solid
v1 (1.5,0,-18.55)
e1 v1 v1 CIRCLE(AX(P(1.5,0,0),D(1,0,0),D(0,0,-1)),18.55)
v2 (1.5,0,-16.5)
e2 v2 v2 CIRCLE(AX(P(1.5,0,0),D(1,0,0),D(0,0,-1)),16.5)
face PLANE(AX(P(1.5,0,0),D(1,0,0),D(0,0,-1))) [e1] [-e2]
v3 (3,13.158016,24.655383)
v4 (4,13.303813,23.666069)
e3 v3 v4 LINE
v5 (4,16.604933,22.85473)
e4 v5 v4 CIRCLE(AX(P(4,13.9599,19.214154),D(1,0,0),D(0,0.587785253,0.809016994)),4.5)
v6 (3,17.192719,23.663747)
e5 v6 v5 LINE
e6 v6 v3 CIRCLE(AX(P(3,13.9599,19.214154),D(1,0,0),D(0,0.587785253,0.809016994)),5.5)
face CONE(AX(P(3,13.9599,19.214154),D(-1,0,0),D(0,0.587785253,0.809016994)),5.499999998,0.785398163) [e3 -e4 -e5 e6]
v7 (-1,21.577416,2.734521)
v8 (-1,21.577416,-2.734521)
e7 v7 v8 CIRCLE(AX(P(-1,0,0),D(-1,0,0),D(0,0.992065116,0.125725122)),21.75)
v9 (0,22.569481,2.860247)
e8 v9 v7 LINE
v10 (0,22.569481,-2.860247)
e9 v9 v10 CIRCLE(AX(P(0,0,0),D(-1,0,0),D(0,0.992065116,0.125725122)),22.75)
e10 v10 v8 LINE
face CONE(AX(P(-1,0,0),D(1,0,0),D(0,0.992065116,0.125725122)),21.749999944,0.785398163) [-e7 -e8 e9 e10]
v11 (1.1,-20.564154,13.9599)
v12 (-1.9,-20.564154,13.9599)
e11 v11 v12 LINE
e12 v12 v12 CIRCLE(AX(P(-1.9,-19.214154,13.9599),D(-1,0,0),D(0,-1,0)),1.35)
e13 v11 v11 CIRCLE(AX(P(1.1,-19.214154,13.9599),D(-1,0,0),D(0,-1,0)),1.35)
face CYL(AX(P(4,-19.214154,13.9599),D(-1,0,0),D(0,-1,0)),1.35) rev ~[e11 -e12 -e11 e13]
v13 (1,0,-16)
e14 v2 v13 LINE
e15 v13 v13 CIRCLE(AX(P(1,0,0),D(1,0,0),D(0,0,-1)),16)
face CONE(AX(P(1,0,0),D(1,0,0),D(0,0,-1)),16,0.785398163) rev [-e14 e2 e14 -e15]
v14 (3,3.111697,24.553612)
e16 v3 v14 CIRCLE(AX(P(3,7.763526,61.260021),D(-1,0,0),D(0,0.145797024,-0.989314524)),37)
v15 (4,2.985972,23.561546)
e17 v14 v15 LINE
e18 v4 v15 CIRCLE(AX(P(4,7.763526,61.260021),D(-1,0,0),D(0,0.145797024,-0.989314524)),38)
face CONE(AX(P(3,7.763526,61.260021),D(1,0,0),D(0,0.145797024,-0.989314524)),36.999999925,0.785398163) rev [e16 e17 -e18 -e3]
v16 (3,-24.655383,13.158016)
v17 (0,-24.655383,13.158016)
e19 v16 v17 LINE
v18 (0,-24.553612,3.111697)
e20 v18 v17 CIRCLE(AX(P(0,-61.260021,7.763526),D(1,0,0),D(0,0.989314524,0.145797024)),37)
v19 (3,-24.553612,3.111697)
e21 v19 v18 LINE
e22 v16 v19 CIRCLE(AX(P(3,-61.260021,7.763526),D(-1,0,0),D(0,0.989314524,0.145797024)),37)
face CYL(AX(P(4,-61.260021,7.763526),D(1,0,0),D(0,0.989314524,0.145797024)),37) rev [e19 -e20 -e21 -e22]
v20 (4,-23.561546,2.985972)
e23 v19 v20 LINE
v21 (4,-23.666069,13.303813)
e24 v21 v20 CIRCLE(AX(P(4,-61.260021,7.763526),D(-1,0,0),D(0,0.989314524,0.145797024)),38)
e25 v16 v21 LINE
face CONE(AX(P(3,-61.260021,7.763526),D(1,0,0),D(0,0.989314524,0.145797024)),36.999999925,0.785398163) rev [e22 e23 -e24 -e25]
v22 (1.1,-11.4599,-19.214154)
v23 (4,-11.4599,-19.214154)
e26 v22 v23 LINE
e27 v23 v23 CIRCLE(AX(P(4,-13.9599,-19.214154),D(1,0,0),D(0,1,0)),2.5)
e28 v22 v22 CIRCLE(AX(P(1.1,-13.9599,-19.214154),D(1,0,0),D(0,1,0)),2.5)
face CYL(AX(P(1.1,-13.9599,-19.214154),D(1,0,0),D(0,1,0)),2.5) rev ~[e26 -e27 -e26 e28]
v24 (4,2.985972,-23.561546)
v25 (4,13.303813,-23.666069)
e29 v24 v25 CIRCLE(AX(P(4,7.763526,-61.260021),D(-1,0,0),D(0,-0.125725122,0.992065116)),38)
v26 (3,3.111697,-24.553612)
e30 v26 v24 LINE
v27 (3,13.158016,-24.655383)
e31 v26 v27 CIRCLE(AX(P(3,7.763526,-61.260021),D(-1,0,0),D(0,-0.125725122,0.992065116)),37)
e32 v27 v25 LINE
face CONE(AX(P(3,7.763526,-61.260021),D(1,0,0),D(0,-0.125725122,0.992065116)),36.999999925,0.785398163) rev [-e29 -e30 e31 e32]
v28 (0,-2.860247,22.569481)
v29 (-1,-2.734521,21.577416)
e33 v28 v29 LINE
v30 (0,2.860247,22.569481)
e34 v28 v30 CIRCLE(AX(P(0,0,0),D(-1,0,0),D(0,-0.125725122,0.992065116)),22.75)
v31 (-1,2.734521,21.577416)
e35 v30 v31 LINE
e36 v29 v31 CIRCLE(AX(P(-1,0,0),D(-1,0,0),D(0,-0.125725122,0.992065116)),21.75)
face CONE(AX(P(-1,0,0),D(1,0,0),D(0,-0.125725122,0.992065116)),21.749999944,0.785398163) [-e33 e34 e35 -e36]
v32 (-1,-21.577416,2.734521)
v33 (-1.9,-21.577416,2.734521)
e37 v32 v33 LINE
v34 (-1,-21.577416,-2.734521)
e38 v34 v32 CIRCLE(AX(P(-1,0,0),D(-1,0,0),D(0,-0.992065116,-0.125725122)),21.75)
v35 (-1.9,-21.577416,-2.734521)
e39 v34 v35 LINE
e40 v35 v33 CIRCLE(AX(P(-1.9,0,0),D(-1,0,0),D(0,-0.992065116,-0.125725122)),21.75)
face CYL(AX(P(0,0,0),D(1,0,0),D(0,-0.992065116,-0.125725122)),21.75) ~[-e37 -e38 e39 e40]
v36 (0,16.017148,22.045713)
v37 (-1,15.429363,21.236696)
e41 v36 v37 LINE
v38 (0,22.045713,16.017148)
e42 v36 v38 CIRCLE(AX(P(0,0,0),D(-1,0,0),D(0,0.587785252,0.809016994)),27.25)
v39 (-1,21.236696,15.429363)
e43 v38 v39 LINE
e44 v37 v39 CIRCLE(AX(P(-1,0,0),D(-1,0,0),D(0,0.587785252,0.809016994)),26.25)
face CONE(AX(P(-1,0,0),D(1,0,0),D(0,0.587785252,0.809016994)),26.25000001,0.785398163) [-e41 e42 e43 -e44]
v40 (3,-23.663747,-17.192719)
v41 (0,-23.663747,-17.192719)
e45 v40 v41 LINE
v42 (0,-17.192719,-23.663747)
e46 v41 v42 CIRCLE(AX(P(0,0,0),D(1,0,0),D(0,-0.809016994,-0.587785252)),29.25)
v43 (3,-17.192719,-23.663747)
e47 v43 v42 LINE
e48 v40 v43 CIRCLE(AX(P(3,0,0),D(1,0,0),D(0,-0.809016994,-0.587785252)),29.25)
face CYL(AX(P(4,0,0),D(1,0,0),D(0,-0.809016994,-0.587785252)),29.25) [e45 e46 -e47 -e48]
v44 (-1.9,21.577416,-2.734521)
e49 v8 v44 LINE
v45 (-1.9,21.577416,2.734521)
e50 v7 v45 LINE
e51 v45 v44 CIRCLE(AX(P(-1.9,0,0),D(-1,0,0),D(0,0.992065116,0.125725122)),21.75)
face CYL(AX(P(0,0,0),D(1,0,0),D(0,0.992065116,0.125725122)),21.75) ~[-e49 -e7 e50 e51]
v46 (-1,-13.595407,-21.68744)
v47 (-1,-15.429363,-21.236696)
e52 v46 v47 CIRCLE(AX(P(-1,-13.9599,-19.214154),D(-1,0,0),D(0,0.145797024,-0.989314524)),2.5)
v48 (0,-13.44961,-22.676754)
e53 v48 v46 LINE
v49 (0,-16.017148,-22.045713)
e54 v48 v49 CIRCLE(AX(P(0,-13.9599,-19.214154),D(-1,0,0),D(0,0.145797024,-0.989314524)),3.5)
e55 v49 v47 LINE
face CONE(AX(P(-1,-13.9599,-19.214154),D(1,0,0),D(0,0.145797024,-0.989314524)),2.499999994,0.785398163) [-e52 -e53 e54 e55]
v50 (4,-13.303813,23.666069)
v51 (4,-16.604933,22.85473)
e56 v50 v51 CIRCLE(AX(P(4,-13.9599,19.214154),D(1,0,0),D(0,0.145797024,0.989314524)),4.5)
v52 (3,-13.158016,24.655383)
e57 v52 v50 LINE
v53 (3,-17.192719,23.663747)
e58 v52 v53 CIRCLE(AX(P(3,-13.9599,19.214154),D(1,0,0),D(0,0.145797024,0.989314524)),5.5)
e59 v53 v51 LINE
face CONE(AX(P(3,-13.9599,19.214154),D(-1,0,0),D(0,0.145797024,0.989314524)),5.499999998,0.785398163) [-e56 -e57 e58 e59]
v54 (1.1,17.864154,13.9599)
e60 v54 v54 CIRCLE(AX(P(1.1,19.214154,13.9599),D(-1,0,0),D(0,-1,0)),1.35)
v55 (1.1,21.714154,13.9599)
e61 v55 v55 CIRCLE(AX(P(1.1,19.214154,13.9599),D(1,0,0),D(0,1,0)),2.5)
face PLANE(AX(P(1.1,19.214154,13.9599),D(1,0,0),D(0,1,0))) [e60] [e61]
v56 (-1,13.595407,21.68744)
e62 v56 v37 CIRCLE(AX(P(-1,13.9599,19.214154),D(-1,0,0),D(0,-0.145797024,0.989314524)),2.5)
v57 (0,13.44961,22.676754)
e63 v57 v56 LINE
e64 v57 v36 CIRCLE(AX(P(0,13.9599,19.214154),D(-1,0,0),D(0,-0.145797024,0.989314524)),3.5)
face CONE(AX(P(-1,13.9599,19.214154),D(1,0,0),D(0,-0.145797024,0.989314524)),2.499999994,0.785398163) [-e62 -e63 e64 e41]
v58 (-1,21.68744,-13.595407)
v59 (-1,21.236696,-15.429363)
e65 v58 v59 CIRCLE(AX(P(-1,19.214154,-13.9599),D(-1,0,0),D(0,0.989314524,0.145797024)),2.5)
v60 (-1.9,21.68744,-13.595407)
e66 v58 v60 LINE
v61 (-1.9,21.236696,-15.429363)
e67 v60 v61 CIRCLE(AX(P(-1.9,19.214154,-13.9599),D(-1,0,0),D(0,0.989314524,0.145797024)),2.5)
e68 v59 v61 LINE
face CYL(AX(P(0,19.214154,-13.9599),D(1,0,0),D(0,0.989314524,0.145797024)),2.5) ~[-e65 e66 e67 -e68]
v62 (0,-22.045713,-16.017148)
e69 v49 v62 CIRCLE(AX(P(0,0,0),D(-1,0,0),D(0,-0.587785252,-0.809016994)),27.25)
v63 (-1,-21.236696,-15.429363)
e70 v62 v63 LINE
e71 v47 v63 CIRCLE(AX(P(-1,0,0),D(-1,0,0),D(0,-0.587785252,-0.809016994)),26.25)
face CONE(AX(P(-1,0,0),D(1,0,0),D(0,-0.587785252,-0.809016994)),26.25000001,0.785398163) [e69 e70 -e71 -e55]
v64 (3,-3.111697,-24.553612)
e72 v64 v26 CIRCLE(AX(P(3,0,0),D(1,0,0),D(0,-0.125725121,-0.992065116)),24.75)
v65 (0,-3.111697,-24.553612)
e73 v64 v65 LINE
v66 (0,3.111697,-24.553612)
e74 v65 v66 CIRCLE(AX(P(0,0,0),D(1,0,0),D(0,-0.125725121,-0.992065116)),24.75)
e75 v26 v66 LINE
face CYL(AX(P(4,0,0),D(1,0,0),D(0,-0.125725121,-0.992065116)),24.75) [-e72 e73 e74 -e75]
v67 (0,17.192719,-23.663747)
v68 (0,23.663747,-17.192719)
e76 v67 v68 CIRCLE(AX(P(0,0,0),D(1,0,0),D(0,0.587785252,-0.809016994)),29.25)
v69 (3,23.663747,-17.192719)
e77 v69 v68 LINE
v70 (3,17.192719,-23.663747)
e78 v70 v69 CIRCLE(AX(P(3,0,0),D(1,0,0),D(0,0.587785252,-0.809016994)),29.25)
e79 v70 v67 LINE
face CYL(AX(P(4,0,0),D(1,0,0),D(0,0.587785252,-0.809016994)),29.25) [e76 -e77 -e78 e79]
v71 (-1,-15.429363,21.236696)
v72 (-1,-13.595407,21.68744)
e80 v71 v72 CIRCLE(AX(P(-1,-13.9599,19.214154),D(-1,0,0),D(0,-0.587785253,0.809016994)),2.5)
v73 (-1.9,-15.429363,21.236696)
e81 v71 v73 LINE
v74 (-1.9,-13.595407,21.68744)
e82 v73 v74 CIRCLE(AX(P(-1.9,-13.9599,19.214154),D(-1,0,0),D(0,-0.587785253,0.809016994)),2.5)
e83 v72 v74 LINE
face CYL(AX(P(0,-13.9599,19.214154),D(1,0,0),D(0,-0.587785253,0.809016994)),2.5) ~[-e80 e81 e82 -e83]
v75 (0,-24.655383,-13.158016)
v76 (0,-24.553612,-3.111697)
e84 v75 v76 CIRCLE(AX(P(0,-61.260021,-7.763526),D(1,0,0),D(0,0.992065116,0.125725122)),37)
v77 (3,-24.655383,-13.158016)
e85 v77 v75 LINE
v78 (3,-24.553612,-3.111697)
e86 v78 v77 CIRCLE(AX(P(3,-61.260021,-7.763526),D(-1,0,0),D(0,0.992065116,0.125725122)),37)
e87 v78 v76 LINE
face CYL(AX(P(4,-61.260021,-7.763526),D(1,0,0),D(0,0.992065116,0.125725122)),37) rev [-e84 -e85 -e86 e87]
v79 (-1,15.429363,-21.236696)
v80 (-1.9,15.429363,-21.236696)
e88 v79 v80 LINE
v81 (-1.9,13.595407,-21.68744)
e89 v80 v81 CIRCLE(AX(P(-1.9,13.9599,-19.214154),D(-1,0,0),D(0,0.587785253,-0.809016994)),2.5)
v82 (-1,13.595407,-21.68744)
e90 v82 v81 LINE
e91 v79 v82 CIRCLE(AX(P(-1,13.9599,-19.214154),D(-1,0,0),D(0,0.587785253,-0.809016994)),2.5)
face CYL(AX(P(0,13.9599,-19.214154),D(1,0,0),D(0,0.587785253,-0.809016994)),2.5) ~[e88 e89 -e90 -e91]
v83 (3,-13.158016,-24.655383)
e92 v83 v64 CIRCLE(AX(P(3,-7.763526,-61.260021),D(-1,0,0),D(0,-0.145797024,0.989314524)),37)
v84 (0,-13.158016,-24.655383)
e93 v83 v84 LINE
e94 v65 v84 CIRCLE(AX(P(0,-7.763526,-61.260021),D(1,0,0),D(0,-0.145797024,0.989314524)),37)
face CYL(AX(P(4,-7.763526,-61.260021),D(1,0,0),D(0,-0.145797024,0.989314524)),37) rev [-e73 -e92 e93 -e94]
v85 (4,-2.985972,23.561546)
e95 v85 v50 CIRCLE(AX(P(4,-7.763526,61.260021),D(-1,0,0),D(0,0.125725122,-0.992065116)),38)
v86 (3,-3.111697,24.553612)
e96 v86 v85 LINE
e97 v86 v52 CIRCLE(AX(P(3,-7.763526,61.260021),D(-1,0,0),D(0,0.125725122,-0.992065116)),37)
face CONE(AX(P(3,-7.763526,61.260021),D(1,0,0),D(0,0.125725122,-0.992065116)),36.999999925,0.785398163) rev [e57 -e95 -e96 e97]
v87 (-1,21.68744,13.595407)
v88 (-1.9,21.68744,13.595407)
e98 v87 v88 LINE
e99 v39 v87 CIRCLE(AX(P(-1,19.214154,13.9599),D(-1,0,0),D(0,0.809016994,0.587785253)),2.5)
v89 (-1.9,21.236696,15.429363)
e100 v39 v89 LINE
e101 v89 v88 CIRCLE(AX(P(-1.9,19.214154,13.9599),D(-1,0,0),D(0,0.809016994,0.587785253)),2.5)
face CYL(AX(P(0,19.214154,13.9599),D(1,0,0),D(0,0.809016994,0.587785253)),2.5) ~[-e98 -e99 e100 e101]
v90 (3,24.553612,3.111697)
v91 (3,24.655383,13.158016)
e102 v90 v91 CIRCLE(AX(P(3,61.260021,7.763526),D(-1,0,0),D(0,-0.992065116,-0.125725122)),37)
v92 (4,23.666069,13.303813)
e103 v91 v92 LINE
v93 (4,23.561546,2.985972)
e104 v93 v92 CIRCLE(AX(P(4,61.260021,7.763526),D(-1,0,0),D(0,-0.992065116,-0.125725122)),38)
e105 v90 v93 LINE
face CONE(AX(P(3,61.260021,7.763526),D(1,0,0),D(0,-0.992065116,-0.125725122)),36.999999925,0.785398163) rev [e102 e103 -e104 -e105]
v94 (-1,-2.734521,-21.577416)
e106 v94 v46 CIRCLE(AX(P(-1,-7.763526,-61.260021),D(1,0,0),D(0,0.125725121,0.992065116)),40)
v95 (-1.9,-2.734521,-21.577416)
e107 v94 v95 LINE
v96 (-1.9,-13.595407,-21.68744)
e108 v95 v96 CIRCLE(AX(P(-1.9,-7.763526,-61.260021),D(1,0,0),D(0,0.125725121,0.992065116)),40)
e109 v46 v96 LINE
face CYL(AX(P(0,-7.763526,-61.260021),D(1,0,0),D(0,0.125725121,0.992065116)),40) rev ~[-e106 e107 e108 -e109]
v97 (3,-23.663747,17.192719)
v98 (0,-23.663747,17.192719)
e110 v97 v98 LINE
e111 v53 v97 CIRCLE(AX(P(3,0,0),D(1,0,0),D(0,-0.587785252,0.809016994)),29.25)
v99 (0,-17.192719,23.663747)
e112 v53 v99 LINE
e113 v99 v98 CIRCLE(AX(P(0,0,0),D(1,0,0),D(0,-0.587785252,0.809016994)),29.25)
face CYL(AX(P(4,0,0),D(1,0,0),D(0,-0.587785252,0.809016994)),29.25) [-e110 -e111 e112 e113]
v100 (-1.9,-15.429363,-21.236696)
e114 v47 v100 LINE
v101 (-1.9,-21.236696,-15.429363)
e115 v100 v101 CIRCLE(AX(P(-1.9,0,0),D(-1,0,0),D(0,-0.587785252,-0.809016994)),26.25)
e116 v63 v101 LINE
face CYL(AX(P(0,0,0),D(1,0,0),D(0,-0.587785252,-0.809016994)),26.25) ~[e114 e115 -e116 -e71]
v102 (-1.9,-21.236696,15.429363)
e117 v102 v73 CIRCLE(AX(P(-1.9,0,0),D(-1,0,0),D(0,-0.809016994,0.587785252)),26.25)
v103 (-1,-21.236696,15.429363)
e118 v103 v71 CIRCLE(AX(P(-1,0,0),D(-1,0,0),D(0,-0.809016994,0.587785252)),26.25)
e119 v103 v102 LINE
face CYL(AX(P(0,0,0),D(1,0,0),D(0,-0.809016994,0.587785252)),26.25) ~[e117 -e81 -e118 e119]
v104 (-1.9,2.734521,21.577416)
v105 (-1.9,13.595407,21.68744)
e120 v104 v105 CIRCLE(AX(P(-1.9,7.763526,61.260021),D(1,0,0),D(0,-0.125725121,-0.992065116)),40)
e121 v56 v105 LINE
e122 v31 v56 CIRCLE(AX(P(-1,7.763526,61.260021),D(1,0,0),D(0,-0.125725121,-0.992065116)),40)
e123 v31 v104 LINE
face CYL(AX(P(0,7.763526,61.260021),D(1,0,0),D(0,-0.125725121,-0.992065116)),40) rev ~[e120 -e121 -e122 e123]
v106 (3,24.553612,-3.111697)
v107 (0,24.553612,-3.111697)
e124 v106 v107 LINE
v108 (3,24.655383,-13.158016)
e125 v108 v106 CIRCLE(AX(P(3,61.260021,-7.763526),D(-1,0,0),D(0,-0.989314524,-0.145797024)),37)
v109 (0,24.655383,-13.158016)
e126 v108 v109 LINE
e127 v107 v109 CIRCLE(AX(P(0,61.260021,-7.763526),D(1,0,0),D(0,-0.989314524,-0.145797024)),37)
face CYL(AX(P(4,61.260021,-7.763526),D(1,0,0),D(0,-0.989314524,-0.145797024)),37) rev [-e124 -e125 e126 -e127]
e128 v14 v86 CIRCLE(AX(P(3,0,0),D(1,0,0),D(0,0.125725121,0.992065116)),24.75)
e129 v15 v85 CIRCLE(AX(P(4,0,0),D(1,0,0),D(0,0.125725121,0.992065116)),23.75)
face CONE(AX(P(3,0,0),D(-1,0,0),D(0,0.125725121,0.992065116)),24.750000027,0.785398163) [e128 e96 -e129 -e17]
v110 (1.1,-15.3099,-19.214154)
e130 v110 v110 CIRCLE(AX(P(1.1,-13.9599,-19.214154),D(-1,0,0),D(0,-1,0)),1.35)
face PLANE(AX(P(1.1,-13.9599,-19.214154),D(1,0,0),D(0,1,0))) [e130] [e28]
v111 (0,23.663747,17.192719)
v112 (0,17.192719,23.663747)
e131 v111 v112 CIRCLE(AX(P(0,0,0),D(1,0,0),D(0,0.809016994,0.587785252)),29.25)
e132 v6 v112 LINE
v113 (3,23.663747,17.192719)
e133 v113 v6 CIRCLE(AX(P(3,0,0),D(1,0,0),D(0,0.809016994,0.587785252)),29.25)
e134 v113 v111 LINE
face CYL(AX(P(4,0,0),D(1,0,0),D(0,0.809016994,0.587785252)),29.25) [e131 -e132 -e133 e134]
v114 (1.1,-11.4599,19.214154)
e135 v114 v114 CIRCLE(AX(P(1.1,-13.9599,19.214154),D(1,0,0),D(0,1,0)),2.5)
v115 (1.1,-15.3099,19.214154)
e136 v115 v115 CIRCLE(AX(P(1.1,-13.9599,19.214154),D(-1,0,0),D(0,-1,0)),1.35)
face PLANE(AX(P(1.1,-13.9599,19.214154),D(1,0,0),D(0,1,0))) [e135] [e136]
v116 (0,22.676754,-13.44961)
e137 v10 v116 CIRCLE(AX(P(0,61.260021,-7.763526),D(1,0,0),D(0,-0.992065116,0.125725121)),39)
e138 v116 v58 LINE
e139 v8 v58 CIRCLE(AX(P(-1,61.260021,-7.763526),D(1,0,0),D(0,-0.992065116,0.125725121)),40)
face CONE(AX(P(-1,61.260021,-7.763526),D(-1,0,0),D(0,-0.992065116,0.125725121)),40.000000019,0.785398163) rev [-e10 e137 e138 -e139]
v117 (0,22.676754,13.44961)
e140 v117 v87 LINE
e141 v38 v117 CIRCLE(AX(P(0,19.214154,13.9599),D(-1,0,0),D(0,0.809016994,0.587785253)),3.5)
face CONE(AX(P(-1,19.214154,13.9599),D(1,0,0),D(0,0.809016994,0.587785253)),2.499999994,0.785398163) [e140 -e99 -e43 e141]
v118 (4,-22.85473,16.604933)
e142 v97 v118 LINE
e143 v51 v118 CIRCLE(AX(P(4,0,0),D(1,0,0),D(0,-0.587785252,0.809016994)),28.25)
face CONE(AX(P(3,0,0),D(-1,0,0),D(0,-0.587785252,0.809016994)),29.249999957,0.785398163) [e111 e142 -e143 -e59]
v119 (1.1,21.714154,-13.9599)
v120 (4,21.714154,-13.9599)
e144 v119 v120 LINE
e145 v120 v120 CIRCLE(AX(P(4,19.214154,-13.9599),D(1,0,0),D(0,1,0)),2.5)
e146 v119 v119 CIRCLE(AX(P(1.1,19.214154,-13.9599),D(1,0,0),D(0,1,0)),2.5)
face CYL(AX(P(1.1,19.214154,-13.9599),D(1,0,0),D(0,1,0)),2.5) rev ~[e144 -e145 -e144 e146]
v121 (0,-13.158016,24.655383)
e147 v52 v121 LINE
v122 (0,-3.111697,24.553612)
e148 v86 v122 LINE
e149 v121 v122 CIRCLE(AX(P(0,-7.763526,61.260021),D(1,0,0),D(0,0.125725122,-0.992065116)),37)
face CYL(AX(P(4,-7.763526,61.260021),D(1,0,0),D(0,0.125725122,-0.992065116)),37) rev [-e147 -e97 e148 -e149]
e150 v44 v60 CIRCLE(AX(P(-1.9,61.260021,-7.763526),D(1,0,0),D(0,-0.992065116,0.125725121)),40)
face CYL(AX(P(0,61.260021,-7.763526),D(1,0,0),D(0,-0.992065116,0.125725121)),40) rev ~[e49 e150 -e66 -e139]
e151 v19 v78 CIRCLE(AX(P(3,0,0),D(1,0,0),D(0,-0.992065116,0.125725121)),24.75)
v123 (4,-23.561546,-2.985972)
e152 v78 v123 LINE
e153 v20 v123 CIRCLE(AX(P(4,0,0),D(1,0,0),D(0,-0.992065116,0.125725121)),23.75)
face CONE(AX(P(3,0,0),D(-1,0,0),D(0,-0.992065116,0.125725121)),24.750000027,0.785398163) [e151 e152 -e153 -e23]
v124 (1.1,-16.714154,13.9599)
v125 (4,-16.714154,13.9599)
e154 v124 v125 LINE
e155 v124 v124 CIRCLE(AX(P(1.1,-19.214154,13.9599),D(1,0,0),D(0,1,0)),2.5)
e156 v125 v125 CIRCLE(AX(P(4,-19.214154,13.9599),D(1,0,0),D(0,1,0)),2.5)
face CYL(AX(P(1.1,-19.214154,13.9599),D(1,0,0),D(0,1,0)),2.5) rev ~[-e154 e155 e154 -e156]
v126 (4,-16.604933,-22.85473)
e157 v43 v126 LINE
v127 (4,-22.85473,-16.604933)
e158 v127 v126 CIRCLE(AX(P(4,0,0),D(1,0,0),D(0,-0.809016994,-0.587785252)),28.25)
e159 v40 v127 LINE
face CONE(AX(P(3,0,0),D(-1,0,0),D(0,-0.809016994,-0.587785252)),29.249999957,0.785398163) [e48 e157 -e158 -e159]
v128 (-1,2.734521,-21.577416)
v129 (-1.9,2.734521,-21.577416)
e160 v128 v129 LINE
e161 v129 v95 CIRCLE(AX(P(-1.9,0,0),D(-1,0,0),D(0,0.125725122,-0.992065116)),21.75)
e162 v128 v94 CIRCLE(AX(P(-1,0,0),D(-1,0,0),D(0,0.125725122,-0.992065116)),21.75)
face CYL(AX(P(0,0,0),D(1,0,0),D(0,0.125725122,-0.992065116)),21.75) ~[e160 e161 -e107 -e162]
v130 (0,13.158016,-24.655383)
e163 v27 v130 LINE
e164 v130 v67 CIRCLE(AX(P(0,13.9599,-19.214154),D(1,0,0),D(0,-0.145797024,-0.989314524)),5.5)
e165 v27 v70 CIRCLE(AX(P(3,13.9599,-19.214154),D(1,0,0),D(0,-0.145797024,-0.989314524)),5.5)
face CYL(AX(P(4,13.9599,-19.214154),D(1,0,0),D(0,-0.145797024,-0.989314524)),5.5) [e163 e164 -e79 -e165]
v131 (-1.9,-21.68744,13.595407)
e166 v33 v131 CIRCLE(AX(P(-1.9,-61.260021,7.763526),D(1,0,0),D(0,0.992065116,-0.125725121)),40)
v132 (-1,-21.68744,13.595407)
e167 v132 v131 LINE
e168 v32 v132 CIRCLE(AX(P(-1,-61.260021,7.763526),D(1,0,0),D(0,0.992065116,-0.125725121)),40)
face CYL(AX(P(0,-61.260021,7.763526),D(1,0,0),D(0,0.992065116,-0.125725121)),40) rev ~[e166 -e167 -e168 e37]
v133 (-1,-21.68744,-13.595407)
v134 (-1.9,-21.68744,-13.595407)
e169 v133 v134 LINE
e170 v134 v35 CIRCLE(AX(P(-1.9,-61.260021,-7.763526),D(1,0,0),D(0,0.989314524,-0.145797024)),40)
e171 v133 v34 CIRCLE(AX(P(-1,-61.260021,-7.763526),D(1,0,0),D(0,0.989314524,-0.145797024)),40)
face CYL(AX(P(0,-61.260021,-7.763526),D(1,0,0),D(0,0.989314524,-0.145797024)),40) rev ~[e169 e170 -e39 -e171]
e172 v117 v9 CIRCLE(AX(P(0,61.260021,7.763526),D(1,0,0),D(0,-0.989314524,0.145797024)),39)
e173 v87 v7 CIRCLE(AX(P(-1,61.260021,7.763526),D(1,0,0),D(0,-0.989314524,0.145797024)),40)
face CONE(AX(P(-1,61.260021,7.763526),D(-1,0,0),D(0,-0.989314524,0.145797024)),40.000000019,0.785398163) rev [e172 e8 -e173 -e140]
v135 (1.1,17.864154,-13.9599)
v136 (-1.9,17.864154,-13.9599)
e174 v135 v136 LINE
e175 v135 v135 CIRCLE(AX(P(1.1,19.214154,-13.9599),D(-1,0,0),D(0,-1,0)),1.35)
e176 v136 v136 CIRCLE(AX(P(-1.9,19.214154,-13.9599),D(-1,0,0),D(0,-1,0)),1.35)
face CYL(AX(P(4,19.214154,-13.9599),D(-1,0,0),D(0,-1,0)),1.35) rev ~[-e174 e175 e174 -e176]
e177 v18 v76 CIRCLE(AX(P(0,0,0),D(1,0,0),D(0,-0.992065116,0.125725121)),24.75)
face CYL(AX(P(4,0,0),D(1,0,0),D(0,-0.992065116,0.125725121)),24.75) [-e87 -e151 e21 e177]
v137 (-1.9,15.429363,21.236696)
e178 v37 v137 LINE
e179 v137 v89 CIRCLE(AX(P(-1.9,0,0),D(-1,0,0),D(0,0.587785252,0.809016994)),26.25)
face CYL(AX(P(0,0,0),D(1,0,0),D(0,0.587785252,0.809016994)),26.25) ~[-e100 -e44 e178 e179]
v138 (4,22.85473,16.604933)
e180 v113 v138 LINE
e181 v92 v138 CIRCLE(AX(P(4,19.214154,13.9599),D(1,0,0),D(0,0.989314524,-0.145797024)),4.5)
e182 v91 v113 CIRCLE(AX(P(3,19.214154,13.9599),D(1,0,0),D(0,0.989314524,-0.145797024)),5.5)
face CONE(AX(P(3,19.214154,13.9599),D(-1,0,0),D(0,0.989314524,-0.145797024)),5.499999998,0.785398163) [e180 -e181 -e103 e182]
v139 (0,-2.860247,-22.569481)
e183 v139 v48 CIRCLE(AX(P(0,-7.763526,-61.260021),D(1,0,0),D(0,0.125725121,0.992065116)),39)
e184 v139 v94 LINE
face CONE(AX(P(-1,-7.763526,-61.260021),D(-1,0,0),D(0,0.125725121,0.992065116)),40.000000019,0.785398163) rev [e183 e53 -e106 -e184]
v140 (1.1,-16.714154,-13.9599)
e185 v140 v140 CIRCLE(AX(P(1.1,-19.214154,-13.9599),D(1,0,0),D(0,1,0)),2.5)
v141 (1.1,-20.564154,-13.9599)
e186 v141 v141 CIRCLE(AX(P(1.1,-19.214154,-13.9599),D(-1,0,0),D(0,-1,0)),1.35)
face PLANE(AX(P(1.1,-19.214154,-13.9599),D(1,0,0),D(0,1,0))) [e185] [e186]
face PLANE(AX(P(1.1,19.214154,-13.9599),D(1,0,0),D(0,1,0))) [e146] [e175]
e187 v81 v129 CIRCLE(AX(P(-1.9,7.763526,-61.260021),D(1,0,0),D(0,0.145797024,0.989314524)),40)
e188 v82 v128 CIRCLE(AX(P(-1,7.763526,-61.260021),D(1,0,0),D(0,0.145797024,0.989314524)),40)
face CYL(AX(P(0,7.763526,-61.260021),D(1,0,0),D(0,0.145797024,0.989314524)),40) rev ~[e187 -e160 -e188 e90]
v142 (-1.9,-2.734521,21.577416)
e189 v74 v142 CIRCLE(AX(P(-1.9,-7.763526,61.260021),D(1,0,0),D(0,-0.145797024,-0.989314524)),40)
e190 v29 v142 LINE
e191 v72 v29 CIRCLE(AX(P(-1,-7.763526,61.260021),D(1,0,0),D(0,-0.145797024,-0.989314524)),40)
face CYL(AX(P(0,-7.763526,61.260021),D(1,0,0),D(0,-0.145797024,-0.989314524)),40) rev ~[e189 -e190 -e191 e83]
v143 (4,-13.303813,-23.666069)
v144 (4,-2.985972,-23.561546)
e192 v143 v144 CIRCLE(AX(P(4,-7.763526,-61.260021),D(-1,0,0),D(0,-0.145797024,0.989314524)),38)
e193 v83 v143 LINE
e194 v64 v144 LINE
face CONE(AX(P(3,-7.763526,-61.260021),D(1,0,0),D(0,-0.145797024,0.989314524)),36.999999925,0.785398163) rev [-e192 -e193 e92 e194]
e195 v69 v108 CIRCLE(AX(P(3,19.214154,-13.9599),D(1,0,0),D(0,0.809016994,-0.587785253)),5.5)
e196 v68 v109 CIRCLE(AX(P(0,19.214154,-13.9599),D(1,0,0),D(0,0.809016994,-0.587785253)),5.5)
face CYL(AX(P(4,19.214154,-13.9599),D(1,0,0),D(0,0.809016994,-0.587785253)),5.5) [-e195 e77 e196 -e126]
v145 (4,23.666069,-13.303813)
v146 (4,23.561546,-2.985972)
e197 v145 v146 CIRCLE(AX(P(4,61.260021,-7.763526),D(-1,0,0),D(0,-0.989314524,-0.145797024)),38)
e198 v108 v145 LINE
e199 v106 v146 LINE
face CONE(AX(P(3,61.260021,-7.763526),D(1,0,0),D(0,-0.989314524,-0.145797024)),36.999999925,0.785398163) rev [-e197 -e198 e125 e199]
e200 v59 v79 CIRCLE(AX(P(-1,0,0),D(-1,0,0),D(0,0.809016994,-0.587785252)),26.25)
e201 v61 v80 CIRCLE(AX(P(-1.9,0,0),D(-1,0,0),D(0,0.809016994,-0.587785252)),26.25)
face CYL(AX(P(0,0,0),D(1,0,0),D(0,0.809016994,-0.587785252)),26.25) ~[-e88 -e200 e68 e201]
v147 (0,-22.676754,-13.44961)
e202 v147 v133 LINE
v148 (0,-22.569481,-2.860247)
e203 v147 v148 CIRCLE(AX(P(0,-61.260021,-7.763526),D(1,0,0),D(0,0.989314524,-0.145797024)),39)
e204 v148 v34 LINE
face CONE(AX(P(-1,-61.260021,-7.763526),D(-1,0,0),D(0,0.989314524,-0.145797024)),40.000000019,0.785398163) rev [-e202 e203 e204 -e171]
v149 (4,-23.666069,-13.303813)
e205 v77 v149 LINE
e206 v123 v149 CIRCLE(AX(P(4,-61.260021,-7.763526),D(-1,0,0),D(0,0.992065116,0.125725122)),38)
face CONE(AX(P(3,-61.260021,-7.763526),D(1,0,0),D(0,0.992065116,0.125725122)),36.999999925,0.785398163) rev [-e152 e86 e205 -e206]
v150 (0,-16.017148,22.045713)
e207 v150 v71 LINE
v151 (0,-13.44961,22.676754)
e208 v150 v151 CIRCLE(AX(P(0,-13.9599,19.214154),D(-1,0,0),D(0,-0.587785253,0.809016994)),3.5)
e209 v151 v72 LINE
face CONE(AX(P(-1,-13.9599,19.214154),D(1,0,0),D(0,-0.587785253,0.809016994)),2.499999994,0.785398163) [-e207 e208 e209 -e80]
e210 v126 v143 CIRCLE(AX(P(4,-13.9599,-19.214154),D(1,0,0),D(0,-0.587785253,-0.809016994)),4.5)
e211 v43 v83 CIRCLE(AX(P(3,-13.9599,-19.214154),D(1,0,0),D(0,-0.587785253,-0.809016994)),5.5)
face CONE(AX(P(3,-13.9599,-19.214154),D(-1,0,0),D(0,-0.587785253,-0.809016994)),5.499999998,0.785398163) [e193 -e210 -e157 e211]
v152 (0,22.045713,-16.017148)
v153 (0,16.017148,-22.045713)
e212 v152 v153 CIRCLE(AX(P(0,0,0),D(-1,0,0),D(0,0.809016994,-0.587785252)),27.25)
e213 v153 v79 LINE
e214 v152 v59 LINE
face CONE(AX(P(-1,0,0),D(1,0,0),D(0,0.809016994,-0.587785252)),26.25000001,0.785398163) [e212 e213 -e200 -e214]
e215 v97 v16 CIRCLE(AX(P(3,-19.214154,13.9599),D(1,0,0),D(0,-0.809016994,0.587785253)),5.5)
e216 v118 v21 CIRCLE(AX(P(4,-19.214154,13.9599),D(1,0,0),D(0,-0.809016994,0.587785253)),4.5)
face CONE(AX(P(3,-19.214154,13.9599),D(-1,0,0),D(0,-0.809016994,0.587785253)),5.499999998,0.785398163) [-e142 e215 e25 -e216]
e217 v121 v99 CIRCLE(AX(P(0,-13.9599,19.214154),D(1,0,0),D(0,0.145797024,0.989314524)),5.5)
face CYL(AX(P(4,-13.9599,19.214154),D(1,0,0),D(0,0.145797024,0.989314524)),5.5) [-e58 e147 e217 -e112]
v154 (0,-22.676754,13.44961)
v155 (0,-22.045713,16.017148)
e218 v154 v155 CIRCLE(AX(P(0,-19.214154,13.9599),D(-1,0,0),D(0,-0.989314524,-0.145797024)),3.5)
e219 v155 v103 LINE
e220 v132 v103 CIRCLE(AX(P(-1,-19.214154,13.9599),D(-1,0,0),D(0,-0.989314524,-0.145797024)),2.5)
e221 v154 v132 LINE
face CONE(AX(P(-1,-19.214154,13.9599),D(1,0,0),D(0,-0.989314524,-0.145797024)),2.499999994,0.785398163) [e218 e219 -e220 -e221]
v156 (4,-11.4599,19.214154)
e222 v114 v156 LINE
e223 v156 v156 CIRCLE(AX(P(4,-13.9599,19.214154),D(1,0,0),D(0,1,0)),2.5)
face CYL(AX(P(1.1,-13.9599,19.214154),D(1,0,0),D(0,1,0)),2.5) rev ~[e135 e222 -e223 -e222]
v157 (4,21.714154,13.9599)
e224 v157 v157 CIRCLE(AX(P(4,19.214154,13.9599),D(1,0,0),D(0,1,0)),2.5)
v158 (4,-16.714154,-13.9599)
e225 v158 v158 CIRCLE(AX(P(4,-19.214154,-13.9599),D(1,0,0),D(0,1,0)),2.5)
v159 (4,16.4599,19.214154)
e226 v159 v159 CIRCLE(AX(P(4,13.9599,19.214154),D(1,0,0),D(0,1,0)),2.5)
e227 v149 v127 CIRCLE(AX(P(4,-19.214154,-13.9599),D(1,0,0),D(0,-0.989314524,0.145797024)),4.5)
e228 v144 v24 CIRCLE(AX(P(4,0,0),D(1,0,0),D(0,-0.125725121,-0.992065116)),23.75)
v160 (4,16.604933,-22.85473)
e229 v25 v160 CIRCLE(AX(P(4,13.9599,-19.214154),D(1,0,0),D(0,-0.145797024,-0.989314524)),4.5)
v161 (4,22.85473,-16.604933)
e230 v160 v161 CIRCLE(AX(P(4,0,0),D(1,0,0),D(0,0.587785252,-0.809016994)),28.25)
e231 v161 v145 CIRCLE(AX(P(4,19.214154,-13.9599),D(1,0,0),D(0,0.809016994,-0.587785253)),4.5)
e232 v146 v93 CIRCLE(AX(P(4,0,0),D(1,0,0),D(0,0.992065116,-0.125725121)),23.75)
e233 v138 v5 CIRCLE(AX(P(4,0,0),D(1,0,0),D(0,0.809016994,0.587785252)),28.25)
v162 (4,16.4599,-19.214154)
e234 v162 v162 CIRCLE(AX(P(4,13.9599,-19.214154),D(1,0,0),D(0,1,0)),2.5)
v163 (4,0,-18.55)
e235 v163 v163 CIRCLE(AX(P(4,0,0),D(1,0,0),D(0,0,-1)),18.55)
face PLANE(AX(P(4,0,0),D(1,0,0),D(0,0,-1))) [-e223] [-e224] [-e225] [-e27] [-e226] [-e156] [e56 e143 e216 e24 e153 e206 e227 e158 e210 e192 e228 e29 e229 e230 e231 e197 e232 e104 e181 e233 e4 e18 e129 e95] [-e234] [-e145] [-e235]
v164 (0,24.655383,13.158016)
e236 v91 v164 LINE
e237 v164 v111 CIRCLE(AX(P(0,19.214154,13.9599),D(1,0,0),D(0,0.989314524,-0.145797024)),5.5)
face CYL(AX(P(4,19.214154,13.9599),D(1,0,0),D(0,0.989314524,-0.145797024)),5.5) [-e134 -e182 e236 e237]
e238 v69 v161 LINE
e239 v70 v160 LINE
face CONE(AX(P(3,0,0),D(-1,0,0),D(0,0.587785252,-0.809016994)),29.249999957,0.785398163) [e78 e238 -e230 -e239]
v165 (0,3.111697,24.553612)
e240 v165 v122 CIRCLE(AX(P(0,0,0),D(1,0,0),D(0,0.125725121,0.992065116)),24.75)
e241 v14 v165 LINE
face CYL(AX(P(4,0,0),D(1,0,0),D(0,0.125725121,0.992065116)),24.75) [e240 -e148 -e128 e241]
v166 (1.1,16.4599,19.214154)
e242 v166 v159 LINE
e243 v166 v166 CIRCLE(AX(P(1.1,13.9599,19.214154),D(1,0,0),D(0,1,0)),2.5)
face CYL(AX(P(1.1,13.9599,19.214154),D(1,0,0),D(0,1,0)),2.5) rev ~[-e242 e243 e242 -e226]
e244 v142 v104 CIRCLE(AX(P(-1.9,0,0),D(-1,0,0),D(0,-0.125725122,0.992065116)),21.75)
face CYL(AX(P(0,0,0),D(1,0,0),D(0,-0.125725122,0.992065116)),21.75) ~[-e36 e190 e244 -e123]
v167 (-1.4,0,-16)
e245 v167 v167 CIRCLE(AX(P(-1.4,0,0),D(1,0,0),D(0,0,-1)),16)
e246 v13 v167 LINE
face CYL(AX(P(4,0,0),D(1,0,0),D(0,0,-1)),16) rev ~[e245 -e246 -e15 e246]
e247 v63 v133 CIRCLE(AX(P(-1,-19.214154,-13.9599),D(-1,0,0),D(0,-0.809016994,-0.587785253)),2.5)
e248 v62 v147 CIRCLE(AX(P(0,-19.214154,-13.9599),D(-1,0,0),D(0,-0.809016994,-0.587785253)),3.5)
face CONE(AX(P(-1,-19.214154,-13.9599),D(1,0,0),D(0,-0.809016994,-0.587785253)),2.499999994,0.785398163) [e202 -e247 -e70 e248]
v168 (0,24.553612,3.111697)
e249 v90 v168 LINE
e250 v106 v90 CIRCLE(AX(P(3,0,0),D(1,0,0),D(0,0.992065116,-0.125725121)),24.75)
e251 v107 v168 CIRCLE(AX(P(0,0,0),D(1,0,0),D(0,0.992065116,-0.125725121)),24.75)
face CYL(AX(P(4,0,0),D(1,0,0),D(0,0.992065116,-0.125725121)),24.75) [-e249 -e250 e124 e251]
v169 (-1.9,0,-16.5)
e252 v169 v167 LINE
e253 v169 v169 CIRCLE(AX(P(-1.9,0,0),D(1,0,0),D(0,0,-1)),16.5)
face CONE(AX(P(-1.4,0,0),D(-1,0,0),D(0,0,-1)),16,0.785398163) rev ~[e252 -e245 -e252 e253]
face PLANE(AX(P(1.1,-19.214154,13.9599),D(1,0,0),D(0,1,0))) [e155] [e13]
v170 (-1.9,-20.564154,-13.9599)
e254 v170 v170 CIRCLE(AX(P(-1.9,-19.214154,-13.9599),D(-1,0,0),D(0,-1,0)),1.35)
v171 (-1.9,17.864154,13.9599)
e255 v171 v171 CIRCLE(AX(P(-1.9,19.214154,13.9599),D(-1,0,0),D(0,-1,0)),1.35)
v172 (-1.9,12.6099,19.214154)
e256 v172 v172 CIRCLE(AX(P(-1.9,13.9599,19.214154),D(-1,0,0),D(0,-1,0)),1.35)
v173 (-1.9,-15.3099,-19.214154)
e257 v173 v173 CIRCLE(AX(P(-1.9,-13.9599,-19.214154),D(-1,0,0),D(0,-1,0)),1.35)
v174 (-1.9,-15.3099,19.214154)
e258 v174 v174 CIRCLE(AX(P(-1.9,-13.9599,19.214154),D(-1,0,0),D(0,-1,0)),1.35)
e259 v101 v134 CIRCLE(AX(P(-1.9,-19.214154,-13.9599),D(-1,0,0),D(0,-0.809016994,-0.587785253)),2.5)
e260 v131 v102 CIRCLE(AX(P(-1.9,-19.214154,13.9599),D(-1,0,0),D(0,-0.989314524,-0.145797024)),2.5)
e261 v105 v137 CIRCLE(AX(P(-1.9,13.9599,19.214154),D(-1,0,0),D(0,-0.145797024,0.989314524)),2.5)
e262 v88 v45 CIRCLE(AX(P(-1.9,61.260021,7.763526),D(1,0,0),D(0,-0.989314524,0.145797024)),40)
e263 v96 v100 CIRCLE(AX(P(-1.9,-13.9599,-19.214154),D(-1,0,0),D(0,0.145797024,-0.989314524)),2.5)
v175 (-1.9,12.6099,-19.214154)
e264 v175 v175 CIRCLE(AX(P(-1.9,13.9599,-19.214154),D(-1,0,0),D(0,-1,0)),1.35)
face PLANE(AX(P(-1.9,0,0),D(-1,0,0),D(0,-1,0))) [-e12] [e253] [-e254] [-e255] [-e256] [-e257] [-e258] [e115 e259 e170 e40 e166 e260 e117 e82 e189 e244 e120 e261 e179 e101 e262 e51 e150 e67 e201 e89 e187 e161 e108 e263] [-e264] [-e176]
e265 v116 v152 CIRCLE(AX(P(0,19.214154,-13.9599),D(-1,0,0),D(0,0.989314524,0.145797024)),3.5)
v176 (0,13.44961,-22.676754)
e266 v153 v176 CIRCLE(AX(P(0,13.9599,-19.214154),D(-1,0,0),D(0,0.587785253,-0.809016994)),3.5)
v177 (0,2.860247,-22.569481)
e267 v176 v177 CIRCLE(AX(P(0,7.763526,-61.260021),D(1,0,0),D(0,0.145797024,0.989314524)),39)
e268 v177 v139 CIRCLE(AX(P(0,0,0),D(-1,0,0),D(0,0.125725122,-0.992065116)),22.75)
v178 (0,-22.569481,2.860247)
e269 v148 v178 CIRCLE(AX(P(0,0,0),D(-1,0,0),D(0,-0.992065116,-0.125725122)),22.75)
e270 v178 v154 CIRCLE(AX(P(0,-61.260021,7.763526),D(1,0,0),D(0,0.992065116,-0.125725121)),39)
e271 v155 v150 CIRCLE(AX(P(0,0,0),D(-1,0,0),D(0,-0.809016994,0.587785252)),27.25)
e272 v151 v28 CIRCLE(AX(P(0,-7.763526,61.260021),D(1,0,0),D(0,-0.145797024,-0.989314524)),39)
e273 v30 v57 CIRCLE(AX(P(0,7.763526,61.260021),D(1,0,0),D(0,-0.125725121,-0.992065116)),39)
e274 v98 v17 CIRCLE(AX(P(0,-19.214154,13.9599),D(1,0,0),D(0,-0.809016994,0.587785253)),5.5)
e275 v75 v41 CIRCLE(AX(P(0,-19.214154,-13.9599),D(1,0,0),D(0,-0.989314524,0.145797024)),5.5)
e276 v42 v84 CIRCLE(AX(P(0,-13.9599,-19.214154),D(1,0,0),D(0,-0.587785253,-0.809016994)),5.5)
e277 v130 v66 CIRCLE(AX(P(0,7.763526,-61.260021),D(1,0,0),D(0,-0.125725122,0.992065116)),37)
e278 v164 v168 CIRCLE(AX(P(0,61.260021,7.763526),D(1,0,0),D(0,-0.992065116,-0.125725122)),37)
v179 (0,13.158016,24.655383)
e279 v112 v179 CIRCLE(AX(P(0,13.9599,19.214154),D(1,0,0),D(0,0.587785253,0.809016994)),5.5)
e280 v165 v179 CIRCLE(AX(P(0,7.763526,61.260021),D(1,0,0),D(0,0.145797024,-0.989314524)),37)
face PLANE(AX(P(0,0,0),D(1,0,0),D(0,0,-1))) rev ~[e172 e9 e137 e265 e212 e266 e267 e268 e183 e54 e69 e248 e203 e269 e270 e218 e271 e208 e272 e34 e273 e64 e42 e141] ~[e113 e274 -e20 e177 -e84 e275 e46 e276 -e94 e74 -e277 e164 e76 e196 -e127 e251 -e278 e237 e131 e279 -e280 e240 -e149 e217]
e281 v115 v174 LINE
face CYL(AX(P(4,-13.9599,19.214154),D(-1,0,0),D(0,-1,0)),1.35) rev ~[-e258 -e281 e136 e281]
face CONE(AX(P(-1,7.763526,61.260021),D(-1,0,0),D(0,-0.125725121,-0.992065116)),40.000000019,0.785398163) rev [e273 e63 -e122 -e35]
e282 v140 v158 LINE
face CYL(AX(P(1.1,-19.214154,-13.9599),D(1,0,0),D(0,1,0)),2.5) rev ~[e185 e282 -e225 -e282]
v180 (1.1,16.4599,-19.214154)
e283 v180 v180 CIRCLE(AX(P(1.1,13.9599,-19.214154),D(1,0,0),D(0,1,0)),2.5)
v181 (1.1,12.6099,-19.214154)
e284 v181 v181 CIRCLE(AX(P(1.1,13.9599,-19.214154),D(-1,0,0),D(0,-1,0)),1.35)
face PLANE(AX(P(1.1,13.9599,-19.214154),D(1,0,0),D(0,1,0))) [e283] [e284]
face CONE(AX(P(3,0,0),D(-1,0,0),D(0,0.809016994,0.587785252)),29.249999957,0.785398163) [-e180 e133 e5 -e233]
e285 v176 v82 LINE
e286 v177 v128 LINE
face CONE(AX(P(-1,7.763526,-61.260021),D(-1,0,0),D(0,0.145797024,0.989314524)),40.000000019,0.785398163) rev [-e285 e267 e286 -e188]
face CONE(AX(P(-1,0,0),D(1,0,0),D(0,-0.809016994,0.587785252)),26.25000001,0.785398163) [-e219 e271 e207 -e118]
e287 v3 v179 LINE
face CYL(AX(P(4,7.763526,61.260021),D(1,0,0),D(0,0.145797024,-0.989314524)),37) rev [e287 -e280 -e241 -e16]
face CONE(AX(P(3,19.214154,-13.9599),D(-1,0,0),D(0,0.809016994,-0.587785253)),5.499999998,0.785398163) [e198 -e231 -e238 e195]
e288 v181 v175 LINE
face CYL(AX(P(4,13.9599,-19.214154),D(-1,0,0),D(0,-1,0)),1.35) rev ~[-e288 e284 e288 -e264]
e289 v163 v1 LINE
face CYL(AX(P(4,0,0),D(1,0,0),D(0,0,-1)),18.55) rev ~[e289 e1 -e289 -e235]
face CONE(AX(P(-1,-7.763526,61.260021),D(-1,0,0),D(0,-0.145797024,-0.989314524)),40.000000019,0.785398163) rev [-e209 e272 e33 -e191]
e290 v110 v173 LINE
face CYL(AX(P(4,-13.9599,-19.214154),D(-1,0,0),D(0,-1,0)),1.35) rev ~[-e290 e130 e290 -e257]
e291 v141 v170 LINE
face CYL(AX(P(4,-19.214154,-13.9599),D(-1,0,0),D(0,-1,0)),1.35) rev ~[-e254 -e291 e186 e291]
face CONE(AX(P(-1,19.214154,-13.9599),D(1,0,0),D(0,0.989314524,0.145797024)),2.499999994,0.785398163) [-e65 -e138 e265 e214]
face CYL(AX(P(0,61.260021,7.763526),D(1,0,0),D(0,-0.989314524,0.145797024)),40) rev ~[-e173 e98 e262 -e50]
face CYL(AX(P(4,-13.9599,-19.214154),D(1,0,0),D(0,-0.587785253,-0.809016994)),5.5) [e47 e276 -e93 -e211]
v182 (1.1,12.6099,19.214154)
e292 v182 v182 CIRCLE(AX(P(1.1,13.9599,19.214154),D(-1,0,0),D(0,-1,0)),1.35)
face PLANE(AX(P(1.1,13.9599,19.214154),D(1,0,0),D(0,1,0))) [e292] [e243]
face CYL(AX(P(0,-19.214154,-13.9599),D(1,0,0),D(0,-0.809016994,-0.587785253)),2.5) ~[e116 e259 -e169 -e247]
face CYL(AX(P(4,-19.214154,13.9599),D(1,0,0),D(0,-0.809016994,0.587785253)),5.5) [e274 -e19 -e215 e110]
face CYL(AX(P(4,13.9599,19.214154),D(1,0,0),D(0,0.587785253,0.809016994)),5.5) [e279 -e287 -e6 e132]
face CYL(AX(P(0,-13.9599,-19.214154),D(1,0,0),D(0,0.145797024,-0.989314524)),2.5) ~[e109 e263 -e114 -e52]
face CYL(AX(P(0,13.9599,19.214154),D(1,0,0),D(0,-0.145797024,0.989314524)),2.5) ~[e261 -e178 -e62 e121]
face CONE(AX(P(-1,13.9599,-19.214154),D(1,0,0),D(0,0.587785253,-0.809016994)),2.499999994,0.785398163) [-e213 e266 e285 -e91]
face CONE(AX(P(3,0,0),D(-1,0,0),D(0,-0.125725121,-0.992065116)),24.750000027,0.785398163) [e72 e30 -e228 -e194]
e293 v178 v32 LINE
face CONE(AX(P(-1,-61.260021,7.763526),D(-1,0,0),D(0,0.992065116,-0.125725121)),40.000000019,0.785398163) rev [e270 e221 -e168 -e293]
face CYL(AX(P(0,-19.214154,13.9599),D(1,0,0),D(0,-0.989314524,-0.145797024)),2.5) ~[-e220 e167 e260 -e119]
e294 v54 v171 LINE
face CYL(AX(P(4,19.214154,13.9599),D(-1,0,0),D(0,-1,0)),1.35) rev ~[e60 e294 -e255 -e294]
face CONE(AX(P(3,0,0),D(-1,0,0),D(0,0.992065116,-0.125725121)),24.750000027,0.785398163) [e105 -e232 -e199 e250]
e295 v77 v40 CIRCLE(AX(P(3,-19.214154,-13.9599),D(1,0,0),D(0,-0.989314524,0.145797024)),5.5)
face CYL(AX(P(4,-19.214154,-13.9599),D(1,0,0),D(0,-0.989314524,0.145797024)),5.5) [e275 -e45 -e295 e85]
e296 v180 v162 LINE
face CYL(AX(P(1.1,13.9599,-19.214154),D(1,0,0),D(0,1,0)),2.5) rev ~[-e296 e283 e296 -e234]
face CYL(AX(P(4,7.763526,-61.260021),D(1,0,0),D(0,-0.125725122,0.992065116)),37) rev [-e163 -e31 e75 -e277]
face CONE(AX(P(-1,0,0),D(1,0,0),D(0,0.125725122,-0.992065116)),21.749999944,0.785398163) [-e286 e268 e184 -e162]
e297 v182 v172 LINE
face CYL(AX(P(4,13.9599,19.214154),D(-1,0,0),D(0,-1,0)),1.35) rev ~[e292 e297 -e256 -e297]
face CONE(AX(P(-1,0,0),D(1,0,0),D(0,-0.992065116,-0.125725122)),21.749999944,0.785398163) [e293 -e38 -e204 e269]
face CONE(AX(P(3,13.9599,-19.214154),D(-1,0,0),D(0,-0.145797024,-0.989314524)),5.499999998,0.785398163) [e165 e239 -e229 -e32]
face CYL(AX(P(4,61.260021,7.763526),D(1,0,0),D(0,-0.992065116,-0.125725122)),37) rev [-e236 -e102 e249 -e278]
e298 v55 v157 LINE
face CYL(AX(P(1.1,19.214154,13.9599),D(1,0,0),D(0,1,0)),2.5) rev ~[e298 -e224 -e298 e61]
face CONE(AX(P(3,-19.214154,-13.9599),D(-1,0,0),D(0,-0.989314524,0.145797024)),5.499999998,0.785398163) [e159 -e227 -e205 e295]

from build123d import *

# Parameters (mm, degrees)
SKETCH_1_R                     = 30
EXTRUDE_1_DEPTH                = 4
EXTRUDE_2_DEPTH                = 1.9
CHAMFER_1_SIZE                 = 1
SKETCH_5_R                     = 16
CUT_EXTRUDE_2_DEPTH            = 43.83468221
HOLE_WIZARD_M2_5_1_D           = 2.7
HOLE_WIZARD_M2_5_1_CBORE_D     = 5
HOLE_WIZARD_M2_5_1_CBORE_DEPTH = 2.9
SKETCH_8_OUTSIDE_W             = 79.012
SKETCH_8_OUTSIDE_H             = 79.012
CUT_EXTRUDE_3_DEPTH            = 43.83468221
CHAMFER_2_SIZE                 = 1
SKETCH_9_R                     = 18.55
CUT_EXTRUDE_4_DEPTH            = 2.5
CHAMFER_3_SIZE                 = 0.5


with BuildPart() as part:
    # 草图1 → 凸台-拉伸1 (new body)
    with BuildSketch(Plane.YZ):
        with Locations(Location((0, 0, 0), (0, 0, 270))):
            Circle(SKETCH_1_R)
    extrude(amount=EXTRUDE_1_DEPTH)

    # 草图2 → 凸台-拉伸2 (add)
    with BuildSketch(Plane(origin=(0, 0, 0), x_dir=(0, -1, 0), z_dir=(-1, 0, 0))):
        with BuildLine():
            ThreePointArc((-15.429362873, -21.236696102), (-14.556584324, -21.641903091), (-13.595407183, -21.687439927))
            ThreePointArc((-13.595407183, -21.687439927), (-8.168716079, -21.262073185), (-2.734521388, -21.577416267))
            ThreePointArc((-2.734521388, -21.577416267), (0, -21.75), (2.734521388, -21.577416267))
            ThreePointArc((2.734521388, -21.577416267), (8.168716079, -21.262073185), (13.595407183, -21.687439927))
            ThreePointArc((13.595407183, -21.687439927), (14.556584324, -21.641903091), (15.429362873, -21.236696102))
            ThreePointArc((15.429362873, -21.236696102), (18.561553006, -18.561553006), (21.236696102, -15.429362873))
            ThreePointArc((21.236696102, -15.429362873), (21.641903091, -14.556584324), (21.687439927, -13.595407183))
            ThreePointArc((21.687439927, -13.595407183), (21.262073185, -8.168716079), (21.577416267, -2.734521388))
            ThreePointArc((21.577416267, -2.734521388), (21.75, 0), (21.577416267, 2.734521388))
            ThreePointArc((21.577416267, 2.734521388), (21.262073185, 8.168716079), (21.687439927, 13.595407183))
            ThreePointArc((21.687439927, 13.595407183), (21.641903091, 14.556584324), (21.236696102, 15.429362873))
            ThreePointArc((21.236696102, 15.429362873), (18.561553006, 18.561553006), (15.429362873, 21.236696102))
            ThreePointArc((15.429362873, 21.236696102), (14.556584324, 21.641903091), (13.595407183, 21.687439927))
            ThreePointArc((13.595407183, 21.687439927), (8.168716079, 21.262073185), (2.734521388, 21.577416267))
            ThreePointArc((2.734521388, 21.577416267), (0, 21.75), (-2.734521388, 21.577416267))
            ThreePointArc((-2.734521388, 21.577416267), (-8.168716079, 21.262073185), (-13.595407183, 21.687439927))
            ThreePointArc((-13.595407183, 21.687439927), (-14.556584324, 21.641903091), (-15.429362873, 21.236696102))
            ThreePointArc((-15.429362873, 21.236696102), (-18.561553006, 18.561553006), (-21.236696102, 15.429362873))
            ThreePointArc((-21.236696102, 15.429362873), (-21.641903091, 14.556584324), (-21.687439927, 13.595407183))
            ThreePointArc((-21.687439927, 13.595407183), (-21.262073185, 8.168716079), (-21.577416267, 2.734521388))
            ThreePointArc((-21.577416267, 2.734521388), (-21.75, 0), (-21.577416267, -2.734521388))
            ThreePointArc((-21.577416267, -2.734521388), (-21.262073185, -8.168716079), (-21.687439927, -13.595407183))
            ThreePointArc((-21.687439927, -13.595407183), (-21.641903091, -14.556584324), (-21.236696102, -15.429362873))
            ThreePointArc((-21.236696102, -15.429362873), (-18.561553006, -18.561553006), (-15.429362873, -21.236696102))
        make_face()
    extrude(amount=EXTRUDE_2_DEPTH)

    # 倒角1
    chamfer_1_edges = [part.edges().sort_by_distance(p)[0] for p in [
        (0, 21.641903091, -14.556584324),
        (0, 18.561553006, -18.561553006),
        (0, 14.556584324, -21.641903091),
        (0, 8.168716079, -21.262073185),
        (0, 0, -21.75),
        (0, -8.168716079, -21.262073185),
        (0, -14.556584324, -21.641903091),
        (0, -18.561553006, -18.561553006),
        (0, -21.641903091, -14.556584324),
        (0, -21.262073185, -8.168716079),
        (0, -21.75, 0),
        (0, -21.262073185, 8.168716079),
        (0, -21.641903091, 14.556584324),
        (0, -18.561553006, 18.561553006),
        (0, -14.556584324, 21.641903091),
        (0, -8.168716079, 21.262073185),
        (0, 0, 21.75),
        (0, 8.168716079, 21.262073185),
        (0, 14.556584324, 21.641903091),
        (0, 18.561553006, 18.561553006),
        (0, 21.641903091, 14.556584324),
        (0, 21.262073185, 8.168716079),
        (0, 21.75, 0),
        (0, 21.262073185, -8.168716079),
    ]]
    chamfer(chamfer_1_edges, length=CHAMFER_1_SIZE)

    # 草图5 → 切除-拉伸2 (cut, through all)
    with BuildSketch(Plane.YZ.offset(4)):
        with Locations(Location((0, 0, 0), (0, 0, 270))):
            Circle(SKETCH_5_R)
    extrude(amount=-CUT_EXTRUDE_2_DEPTH, mode=Mode.SUBTRACT)

    # M2.5 六角圆柱头螺钉的柱形沉头孔1 (through all)
    with Locations(Plane.YZ.offset(4)):
        with Locations((-13.959899742, 19.214153616), (13.959899742, 19.214153616), (19.214153616, 13.959899742), (19.214153616, -13.959899742), (13.959899742, -19.214153616), (-13.959899742, -19.214153616), (-19.214153616, -13.959899742), (-19.214153616, 13.959899742)):
            CounterBoreHole(HOLE_WIZARD_M2_5_1_D / 2, HOLE_WIZARD_M2_5_1_CBORE_D / 2, HOLE_WIZARD_M2_5_1_CBORE_DEPTH)

    # 草图8 outside → 切除-拉伸3 (cut, through all)
    with BuildSketch(Plane(origin=(4, 0, 0), x_dir=(0, 0, -1), z_dir=(1, 0, 0))):
        Rectangle(SKETCH_8_OUTSIDE_W, SKETCH_8_OUTSIDE_H)
        with BuildLine():
            ThreePointArc((-3.111696751, 24.553611615), (-8.138326841, 24.261919263), (-13.158016112, 24.6553835))
            ThreePointArc((-13.158016112, 24.6553835), (-15.272605822, 24.55520246), (-17.19271863, 23.663747085))
            ThreePointArc((-17.19271863, 23.663747085), (-20.68287335, 20.68287335), (-23.663747085, 17.19271863))
            ThreePointArc((-23.663747085, 17.19271863), (-24.55520246, 15.272605822), (-24.6553835, 13.158016112))
            ThreePointArc((-24.6553835, 13.158016112), (-24.261919263, 8.138326841), (-24.553611615, 3.111696751))
            ThreePointArc((-24.553611615, 3.111696751), (-24.75, 0), (-24.553611615, -3.111696751))
            ThreePointArc((-24.553611615, -3.111696751), (-24.261919263, -8.138326841), (-24.6553835, -13.158016112))
            ThreePointArc((-24.6553835, -13.158016112), (-24.55520246, -15.272605822), (-23.663747085, -17.19271863))
            ThreePointArc((-23.663747085, -17.19271863), (-20.68287335, -20.68287335), (-17.19271863, -23.663747085))
            ThreePointArc((-17.19271863, -23.663747085), (-15.272605822, -24.55520246), (-13.158016112, -24.6553835))
            ThreePointArc((-13.158016112, -24.6553835), (-8.138326841, -24.261919263), (-3.111696751, -24.553611615))
            ThreePointArc((-3.111696751, -24.553611615), (0, -24.75), (3.111696751, -24.553611615))
            ThreePointArc((3.111696751, -24.553611615), (8.138326841, -24.261919263), (13.158016112, -24.6553835))
            ThreePointArc((13.158016112, -24.6553835), (15.272605822, -24.55520246), (17.19271863, -23.663747085))
            ThreePointArc((17.19271863, -23.663747085), (20.68287335, -20.68287335), (23.663747085, -17.19271863))
            ThreePointArc((23.663747085, -17.19271863), (24.55520246, -15.272605822), (24.6553835, -13.158016112))
            ThreePointArc((24.6553835, -13.158016112), (24.261919263, -8.138326841), (24.553611615, -3.111696751))
            ThreePointArc((24.553611615, -3.111696751), (24.75, 0), (24.553611615, 3.111696751))
            ThreePointArc((24.553611615, 3.111696751), (24.261919263, 8.138326841), (24.6553835, 13.158016112))
            ThreePointArc((24.6553835, 13.158016112), (24.55520246, 15.272605822), (23.663747085, 17.19271863))
            ThreePointArc((23.663747085, 17.19271863), (20.68287335, 20.68287335), (17.19271863, 23.663747085))
            ThreePointArc((17.19271863, 23.663747085), (15.272605822, 24.55520246), (13.158016112, 24.6553835))
            ThreePointArc((13.158016112, 24.6553835), (8.138326841, 24.261919263), (3.111696751, 24.553611615))
            ThreePointArc((3.111696751, 24.553611615), (0, 24.75), (-3.111696751, 24.553611615))
        make_face(mode=Mode.SUBTRACT)
    extrude(amount=-CUT_EXTRUDE_3_DEPTH, mode=Mode.SUBTRACT)

    # 倒角2
    chamfer_2_edges = [part.edges().sort_by_distance(p)[0] for p in [
        (4, 24.75, 0),
        (4, 24.261919263, -8.138326841),
        (4, 24.55520246, -15.272605822),
        (4, 20.68287335, -20.68287335),
        (4, 15.272605822, -24.55520246),
        (4, 8.138326841, -24.261919263),
        (4, 0, -24.75),
        (4, -8.138326841, -24.261919263),
        (4, -15.272605822, -24.55520246),
        (4, -20.68287335, -20.68287335),
        (4, -24.55520246, -15.272605822),
        (4, -24.261919263, -8.138326841),
        (4, -24.75, 0),
        (4, -24.261919263, 8.138326841),
        (4, -24.55520246, 15.272605822),
        (4, -20.68287335, 20.68287335),
        (4, -15.272605822, 24.55520246),
        (4, -8.138326841, 24.261919263),
        (4, 0, 24.75),
        (4, 8.138326841, 24.261919263),
        (4, 15.272605822, 24.55520246),
        (4, 20.68287335, 20.68287335),
        (4, 24.55520246, 15.272605822),
        (4, 24.261919263, 8.138326841),
    ]]
    chamfer(chamfer_2_edges, length=CHAMFER_2_SIZE)

    # 草图9 → 切除-拉伸4 (cut)
    with BuildSketch(Plane(origin=(4, 0, 0), x_dir=(0, 0, -1), z_dir=(1, 0, 0))):
        Circle(SKETCH_9_R)
    extrude(amount=-CUT_EXTRUDE_4_DEPTH, mode=Mode.SUBTRACT)

    # 倒角3
    chamfer_3_edges = [part.edges().sort_by_distance(p)[0] for p in [
        (-1.9, 0, 16),
        (1.5, 0, 16),
    ]]
    chamfer(chamfer_3_edges, length=CHAMFER_3_SIZE)


solid = part.part
